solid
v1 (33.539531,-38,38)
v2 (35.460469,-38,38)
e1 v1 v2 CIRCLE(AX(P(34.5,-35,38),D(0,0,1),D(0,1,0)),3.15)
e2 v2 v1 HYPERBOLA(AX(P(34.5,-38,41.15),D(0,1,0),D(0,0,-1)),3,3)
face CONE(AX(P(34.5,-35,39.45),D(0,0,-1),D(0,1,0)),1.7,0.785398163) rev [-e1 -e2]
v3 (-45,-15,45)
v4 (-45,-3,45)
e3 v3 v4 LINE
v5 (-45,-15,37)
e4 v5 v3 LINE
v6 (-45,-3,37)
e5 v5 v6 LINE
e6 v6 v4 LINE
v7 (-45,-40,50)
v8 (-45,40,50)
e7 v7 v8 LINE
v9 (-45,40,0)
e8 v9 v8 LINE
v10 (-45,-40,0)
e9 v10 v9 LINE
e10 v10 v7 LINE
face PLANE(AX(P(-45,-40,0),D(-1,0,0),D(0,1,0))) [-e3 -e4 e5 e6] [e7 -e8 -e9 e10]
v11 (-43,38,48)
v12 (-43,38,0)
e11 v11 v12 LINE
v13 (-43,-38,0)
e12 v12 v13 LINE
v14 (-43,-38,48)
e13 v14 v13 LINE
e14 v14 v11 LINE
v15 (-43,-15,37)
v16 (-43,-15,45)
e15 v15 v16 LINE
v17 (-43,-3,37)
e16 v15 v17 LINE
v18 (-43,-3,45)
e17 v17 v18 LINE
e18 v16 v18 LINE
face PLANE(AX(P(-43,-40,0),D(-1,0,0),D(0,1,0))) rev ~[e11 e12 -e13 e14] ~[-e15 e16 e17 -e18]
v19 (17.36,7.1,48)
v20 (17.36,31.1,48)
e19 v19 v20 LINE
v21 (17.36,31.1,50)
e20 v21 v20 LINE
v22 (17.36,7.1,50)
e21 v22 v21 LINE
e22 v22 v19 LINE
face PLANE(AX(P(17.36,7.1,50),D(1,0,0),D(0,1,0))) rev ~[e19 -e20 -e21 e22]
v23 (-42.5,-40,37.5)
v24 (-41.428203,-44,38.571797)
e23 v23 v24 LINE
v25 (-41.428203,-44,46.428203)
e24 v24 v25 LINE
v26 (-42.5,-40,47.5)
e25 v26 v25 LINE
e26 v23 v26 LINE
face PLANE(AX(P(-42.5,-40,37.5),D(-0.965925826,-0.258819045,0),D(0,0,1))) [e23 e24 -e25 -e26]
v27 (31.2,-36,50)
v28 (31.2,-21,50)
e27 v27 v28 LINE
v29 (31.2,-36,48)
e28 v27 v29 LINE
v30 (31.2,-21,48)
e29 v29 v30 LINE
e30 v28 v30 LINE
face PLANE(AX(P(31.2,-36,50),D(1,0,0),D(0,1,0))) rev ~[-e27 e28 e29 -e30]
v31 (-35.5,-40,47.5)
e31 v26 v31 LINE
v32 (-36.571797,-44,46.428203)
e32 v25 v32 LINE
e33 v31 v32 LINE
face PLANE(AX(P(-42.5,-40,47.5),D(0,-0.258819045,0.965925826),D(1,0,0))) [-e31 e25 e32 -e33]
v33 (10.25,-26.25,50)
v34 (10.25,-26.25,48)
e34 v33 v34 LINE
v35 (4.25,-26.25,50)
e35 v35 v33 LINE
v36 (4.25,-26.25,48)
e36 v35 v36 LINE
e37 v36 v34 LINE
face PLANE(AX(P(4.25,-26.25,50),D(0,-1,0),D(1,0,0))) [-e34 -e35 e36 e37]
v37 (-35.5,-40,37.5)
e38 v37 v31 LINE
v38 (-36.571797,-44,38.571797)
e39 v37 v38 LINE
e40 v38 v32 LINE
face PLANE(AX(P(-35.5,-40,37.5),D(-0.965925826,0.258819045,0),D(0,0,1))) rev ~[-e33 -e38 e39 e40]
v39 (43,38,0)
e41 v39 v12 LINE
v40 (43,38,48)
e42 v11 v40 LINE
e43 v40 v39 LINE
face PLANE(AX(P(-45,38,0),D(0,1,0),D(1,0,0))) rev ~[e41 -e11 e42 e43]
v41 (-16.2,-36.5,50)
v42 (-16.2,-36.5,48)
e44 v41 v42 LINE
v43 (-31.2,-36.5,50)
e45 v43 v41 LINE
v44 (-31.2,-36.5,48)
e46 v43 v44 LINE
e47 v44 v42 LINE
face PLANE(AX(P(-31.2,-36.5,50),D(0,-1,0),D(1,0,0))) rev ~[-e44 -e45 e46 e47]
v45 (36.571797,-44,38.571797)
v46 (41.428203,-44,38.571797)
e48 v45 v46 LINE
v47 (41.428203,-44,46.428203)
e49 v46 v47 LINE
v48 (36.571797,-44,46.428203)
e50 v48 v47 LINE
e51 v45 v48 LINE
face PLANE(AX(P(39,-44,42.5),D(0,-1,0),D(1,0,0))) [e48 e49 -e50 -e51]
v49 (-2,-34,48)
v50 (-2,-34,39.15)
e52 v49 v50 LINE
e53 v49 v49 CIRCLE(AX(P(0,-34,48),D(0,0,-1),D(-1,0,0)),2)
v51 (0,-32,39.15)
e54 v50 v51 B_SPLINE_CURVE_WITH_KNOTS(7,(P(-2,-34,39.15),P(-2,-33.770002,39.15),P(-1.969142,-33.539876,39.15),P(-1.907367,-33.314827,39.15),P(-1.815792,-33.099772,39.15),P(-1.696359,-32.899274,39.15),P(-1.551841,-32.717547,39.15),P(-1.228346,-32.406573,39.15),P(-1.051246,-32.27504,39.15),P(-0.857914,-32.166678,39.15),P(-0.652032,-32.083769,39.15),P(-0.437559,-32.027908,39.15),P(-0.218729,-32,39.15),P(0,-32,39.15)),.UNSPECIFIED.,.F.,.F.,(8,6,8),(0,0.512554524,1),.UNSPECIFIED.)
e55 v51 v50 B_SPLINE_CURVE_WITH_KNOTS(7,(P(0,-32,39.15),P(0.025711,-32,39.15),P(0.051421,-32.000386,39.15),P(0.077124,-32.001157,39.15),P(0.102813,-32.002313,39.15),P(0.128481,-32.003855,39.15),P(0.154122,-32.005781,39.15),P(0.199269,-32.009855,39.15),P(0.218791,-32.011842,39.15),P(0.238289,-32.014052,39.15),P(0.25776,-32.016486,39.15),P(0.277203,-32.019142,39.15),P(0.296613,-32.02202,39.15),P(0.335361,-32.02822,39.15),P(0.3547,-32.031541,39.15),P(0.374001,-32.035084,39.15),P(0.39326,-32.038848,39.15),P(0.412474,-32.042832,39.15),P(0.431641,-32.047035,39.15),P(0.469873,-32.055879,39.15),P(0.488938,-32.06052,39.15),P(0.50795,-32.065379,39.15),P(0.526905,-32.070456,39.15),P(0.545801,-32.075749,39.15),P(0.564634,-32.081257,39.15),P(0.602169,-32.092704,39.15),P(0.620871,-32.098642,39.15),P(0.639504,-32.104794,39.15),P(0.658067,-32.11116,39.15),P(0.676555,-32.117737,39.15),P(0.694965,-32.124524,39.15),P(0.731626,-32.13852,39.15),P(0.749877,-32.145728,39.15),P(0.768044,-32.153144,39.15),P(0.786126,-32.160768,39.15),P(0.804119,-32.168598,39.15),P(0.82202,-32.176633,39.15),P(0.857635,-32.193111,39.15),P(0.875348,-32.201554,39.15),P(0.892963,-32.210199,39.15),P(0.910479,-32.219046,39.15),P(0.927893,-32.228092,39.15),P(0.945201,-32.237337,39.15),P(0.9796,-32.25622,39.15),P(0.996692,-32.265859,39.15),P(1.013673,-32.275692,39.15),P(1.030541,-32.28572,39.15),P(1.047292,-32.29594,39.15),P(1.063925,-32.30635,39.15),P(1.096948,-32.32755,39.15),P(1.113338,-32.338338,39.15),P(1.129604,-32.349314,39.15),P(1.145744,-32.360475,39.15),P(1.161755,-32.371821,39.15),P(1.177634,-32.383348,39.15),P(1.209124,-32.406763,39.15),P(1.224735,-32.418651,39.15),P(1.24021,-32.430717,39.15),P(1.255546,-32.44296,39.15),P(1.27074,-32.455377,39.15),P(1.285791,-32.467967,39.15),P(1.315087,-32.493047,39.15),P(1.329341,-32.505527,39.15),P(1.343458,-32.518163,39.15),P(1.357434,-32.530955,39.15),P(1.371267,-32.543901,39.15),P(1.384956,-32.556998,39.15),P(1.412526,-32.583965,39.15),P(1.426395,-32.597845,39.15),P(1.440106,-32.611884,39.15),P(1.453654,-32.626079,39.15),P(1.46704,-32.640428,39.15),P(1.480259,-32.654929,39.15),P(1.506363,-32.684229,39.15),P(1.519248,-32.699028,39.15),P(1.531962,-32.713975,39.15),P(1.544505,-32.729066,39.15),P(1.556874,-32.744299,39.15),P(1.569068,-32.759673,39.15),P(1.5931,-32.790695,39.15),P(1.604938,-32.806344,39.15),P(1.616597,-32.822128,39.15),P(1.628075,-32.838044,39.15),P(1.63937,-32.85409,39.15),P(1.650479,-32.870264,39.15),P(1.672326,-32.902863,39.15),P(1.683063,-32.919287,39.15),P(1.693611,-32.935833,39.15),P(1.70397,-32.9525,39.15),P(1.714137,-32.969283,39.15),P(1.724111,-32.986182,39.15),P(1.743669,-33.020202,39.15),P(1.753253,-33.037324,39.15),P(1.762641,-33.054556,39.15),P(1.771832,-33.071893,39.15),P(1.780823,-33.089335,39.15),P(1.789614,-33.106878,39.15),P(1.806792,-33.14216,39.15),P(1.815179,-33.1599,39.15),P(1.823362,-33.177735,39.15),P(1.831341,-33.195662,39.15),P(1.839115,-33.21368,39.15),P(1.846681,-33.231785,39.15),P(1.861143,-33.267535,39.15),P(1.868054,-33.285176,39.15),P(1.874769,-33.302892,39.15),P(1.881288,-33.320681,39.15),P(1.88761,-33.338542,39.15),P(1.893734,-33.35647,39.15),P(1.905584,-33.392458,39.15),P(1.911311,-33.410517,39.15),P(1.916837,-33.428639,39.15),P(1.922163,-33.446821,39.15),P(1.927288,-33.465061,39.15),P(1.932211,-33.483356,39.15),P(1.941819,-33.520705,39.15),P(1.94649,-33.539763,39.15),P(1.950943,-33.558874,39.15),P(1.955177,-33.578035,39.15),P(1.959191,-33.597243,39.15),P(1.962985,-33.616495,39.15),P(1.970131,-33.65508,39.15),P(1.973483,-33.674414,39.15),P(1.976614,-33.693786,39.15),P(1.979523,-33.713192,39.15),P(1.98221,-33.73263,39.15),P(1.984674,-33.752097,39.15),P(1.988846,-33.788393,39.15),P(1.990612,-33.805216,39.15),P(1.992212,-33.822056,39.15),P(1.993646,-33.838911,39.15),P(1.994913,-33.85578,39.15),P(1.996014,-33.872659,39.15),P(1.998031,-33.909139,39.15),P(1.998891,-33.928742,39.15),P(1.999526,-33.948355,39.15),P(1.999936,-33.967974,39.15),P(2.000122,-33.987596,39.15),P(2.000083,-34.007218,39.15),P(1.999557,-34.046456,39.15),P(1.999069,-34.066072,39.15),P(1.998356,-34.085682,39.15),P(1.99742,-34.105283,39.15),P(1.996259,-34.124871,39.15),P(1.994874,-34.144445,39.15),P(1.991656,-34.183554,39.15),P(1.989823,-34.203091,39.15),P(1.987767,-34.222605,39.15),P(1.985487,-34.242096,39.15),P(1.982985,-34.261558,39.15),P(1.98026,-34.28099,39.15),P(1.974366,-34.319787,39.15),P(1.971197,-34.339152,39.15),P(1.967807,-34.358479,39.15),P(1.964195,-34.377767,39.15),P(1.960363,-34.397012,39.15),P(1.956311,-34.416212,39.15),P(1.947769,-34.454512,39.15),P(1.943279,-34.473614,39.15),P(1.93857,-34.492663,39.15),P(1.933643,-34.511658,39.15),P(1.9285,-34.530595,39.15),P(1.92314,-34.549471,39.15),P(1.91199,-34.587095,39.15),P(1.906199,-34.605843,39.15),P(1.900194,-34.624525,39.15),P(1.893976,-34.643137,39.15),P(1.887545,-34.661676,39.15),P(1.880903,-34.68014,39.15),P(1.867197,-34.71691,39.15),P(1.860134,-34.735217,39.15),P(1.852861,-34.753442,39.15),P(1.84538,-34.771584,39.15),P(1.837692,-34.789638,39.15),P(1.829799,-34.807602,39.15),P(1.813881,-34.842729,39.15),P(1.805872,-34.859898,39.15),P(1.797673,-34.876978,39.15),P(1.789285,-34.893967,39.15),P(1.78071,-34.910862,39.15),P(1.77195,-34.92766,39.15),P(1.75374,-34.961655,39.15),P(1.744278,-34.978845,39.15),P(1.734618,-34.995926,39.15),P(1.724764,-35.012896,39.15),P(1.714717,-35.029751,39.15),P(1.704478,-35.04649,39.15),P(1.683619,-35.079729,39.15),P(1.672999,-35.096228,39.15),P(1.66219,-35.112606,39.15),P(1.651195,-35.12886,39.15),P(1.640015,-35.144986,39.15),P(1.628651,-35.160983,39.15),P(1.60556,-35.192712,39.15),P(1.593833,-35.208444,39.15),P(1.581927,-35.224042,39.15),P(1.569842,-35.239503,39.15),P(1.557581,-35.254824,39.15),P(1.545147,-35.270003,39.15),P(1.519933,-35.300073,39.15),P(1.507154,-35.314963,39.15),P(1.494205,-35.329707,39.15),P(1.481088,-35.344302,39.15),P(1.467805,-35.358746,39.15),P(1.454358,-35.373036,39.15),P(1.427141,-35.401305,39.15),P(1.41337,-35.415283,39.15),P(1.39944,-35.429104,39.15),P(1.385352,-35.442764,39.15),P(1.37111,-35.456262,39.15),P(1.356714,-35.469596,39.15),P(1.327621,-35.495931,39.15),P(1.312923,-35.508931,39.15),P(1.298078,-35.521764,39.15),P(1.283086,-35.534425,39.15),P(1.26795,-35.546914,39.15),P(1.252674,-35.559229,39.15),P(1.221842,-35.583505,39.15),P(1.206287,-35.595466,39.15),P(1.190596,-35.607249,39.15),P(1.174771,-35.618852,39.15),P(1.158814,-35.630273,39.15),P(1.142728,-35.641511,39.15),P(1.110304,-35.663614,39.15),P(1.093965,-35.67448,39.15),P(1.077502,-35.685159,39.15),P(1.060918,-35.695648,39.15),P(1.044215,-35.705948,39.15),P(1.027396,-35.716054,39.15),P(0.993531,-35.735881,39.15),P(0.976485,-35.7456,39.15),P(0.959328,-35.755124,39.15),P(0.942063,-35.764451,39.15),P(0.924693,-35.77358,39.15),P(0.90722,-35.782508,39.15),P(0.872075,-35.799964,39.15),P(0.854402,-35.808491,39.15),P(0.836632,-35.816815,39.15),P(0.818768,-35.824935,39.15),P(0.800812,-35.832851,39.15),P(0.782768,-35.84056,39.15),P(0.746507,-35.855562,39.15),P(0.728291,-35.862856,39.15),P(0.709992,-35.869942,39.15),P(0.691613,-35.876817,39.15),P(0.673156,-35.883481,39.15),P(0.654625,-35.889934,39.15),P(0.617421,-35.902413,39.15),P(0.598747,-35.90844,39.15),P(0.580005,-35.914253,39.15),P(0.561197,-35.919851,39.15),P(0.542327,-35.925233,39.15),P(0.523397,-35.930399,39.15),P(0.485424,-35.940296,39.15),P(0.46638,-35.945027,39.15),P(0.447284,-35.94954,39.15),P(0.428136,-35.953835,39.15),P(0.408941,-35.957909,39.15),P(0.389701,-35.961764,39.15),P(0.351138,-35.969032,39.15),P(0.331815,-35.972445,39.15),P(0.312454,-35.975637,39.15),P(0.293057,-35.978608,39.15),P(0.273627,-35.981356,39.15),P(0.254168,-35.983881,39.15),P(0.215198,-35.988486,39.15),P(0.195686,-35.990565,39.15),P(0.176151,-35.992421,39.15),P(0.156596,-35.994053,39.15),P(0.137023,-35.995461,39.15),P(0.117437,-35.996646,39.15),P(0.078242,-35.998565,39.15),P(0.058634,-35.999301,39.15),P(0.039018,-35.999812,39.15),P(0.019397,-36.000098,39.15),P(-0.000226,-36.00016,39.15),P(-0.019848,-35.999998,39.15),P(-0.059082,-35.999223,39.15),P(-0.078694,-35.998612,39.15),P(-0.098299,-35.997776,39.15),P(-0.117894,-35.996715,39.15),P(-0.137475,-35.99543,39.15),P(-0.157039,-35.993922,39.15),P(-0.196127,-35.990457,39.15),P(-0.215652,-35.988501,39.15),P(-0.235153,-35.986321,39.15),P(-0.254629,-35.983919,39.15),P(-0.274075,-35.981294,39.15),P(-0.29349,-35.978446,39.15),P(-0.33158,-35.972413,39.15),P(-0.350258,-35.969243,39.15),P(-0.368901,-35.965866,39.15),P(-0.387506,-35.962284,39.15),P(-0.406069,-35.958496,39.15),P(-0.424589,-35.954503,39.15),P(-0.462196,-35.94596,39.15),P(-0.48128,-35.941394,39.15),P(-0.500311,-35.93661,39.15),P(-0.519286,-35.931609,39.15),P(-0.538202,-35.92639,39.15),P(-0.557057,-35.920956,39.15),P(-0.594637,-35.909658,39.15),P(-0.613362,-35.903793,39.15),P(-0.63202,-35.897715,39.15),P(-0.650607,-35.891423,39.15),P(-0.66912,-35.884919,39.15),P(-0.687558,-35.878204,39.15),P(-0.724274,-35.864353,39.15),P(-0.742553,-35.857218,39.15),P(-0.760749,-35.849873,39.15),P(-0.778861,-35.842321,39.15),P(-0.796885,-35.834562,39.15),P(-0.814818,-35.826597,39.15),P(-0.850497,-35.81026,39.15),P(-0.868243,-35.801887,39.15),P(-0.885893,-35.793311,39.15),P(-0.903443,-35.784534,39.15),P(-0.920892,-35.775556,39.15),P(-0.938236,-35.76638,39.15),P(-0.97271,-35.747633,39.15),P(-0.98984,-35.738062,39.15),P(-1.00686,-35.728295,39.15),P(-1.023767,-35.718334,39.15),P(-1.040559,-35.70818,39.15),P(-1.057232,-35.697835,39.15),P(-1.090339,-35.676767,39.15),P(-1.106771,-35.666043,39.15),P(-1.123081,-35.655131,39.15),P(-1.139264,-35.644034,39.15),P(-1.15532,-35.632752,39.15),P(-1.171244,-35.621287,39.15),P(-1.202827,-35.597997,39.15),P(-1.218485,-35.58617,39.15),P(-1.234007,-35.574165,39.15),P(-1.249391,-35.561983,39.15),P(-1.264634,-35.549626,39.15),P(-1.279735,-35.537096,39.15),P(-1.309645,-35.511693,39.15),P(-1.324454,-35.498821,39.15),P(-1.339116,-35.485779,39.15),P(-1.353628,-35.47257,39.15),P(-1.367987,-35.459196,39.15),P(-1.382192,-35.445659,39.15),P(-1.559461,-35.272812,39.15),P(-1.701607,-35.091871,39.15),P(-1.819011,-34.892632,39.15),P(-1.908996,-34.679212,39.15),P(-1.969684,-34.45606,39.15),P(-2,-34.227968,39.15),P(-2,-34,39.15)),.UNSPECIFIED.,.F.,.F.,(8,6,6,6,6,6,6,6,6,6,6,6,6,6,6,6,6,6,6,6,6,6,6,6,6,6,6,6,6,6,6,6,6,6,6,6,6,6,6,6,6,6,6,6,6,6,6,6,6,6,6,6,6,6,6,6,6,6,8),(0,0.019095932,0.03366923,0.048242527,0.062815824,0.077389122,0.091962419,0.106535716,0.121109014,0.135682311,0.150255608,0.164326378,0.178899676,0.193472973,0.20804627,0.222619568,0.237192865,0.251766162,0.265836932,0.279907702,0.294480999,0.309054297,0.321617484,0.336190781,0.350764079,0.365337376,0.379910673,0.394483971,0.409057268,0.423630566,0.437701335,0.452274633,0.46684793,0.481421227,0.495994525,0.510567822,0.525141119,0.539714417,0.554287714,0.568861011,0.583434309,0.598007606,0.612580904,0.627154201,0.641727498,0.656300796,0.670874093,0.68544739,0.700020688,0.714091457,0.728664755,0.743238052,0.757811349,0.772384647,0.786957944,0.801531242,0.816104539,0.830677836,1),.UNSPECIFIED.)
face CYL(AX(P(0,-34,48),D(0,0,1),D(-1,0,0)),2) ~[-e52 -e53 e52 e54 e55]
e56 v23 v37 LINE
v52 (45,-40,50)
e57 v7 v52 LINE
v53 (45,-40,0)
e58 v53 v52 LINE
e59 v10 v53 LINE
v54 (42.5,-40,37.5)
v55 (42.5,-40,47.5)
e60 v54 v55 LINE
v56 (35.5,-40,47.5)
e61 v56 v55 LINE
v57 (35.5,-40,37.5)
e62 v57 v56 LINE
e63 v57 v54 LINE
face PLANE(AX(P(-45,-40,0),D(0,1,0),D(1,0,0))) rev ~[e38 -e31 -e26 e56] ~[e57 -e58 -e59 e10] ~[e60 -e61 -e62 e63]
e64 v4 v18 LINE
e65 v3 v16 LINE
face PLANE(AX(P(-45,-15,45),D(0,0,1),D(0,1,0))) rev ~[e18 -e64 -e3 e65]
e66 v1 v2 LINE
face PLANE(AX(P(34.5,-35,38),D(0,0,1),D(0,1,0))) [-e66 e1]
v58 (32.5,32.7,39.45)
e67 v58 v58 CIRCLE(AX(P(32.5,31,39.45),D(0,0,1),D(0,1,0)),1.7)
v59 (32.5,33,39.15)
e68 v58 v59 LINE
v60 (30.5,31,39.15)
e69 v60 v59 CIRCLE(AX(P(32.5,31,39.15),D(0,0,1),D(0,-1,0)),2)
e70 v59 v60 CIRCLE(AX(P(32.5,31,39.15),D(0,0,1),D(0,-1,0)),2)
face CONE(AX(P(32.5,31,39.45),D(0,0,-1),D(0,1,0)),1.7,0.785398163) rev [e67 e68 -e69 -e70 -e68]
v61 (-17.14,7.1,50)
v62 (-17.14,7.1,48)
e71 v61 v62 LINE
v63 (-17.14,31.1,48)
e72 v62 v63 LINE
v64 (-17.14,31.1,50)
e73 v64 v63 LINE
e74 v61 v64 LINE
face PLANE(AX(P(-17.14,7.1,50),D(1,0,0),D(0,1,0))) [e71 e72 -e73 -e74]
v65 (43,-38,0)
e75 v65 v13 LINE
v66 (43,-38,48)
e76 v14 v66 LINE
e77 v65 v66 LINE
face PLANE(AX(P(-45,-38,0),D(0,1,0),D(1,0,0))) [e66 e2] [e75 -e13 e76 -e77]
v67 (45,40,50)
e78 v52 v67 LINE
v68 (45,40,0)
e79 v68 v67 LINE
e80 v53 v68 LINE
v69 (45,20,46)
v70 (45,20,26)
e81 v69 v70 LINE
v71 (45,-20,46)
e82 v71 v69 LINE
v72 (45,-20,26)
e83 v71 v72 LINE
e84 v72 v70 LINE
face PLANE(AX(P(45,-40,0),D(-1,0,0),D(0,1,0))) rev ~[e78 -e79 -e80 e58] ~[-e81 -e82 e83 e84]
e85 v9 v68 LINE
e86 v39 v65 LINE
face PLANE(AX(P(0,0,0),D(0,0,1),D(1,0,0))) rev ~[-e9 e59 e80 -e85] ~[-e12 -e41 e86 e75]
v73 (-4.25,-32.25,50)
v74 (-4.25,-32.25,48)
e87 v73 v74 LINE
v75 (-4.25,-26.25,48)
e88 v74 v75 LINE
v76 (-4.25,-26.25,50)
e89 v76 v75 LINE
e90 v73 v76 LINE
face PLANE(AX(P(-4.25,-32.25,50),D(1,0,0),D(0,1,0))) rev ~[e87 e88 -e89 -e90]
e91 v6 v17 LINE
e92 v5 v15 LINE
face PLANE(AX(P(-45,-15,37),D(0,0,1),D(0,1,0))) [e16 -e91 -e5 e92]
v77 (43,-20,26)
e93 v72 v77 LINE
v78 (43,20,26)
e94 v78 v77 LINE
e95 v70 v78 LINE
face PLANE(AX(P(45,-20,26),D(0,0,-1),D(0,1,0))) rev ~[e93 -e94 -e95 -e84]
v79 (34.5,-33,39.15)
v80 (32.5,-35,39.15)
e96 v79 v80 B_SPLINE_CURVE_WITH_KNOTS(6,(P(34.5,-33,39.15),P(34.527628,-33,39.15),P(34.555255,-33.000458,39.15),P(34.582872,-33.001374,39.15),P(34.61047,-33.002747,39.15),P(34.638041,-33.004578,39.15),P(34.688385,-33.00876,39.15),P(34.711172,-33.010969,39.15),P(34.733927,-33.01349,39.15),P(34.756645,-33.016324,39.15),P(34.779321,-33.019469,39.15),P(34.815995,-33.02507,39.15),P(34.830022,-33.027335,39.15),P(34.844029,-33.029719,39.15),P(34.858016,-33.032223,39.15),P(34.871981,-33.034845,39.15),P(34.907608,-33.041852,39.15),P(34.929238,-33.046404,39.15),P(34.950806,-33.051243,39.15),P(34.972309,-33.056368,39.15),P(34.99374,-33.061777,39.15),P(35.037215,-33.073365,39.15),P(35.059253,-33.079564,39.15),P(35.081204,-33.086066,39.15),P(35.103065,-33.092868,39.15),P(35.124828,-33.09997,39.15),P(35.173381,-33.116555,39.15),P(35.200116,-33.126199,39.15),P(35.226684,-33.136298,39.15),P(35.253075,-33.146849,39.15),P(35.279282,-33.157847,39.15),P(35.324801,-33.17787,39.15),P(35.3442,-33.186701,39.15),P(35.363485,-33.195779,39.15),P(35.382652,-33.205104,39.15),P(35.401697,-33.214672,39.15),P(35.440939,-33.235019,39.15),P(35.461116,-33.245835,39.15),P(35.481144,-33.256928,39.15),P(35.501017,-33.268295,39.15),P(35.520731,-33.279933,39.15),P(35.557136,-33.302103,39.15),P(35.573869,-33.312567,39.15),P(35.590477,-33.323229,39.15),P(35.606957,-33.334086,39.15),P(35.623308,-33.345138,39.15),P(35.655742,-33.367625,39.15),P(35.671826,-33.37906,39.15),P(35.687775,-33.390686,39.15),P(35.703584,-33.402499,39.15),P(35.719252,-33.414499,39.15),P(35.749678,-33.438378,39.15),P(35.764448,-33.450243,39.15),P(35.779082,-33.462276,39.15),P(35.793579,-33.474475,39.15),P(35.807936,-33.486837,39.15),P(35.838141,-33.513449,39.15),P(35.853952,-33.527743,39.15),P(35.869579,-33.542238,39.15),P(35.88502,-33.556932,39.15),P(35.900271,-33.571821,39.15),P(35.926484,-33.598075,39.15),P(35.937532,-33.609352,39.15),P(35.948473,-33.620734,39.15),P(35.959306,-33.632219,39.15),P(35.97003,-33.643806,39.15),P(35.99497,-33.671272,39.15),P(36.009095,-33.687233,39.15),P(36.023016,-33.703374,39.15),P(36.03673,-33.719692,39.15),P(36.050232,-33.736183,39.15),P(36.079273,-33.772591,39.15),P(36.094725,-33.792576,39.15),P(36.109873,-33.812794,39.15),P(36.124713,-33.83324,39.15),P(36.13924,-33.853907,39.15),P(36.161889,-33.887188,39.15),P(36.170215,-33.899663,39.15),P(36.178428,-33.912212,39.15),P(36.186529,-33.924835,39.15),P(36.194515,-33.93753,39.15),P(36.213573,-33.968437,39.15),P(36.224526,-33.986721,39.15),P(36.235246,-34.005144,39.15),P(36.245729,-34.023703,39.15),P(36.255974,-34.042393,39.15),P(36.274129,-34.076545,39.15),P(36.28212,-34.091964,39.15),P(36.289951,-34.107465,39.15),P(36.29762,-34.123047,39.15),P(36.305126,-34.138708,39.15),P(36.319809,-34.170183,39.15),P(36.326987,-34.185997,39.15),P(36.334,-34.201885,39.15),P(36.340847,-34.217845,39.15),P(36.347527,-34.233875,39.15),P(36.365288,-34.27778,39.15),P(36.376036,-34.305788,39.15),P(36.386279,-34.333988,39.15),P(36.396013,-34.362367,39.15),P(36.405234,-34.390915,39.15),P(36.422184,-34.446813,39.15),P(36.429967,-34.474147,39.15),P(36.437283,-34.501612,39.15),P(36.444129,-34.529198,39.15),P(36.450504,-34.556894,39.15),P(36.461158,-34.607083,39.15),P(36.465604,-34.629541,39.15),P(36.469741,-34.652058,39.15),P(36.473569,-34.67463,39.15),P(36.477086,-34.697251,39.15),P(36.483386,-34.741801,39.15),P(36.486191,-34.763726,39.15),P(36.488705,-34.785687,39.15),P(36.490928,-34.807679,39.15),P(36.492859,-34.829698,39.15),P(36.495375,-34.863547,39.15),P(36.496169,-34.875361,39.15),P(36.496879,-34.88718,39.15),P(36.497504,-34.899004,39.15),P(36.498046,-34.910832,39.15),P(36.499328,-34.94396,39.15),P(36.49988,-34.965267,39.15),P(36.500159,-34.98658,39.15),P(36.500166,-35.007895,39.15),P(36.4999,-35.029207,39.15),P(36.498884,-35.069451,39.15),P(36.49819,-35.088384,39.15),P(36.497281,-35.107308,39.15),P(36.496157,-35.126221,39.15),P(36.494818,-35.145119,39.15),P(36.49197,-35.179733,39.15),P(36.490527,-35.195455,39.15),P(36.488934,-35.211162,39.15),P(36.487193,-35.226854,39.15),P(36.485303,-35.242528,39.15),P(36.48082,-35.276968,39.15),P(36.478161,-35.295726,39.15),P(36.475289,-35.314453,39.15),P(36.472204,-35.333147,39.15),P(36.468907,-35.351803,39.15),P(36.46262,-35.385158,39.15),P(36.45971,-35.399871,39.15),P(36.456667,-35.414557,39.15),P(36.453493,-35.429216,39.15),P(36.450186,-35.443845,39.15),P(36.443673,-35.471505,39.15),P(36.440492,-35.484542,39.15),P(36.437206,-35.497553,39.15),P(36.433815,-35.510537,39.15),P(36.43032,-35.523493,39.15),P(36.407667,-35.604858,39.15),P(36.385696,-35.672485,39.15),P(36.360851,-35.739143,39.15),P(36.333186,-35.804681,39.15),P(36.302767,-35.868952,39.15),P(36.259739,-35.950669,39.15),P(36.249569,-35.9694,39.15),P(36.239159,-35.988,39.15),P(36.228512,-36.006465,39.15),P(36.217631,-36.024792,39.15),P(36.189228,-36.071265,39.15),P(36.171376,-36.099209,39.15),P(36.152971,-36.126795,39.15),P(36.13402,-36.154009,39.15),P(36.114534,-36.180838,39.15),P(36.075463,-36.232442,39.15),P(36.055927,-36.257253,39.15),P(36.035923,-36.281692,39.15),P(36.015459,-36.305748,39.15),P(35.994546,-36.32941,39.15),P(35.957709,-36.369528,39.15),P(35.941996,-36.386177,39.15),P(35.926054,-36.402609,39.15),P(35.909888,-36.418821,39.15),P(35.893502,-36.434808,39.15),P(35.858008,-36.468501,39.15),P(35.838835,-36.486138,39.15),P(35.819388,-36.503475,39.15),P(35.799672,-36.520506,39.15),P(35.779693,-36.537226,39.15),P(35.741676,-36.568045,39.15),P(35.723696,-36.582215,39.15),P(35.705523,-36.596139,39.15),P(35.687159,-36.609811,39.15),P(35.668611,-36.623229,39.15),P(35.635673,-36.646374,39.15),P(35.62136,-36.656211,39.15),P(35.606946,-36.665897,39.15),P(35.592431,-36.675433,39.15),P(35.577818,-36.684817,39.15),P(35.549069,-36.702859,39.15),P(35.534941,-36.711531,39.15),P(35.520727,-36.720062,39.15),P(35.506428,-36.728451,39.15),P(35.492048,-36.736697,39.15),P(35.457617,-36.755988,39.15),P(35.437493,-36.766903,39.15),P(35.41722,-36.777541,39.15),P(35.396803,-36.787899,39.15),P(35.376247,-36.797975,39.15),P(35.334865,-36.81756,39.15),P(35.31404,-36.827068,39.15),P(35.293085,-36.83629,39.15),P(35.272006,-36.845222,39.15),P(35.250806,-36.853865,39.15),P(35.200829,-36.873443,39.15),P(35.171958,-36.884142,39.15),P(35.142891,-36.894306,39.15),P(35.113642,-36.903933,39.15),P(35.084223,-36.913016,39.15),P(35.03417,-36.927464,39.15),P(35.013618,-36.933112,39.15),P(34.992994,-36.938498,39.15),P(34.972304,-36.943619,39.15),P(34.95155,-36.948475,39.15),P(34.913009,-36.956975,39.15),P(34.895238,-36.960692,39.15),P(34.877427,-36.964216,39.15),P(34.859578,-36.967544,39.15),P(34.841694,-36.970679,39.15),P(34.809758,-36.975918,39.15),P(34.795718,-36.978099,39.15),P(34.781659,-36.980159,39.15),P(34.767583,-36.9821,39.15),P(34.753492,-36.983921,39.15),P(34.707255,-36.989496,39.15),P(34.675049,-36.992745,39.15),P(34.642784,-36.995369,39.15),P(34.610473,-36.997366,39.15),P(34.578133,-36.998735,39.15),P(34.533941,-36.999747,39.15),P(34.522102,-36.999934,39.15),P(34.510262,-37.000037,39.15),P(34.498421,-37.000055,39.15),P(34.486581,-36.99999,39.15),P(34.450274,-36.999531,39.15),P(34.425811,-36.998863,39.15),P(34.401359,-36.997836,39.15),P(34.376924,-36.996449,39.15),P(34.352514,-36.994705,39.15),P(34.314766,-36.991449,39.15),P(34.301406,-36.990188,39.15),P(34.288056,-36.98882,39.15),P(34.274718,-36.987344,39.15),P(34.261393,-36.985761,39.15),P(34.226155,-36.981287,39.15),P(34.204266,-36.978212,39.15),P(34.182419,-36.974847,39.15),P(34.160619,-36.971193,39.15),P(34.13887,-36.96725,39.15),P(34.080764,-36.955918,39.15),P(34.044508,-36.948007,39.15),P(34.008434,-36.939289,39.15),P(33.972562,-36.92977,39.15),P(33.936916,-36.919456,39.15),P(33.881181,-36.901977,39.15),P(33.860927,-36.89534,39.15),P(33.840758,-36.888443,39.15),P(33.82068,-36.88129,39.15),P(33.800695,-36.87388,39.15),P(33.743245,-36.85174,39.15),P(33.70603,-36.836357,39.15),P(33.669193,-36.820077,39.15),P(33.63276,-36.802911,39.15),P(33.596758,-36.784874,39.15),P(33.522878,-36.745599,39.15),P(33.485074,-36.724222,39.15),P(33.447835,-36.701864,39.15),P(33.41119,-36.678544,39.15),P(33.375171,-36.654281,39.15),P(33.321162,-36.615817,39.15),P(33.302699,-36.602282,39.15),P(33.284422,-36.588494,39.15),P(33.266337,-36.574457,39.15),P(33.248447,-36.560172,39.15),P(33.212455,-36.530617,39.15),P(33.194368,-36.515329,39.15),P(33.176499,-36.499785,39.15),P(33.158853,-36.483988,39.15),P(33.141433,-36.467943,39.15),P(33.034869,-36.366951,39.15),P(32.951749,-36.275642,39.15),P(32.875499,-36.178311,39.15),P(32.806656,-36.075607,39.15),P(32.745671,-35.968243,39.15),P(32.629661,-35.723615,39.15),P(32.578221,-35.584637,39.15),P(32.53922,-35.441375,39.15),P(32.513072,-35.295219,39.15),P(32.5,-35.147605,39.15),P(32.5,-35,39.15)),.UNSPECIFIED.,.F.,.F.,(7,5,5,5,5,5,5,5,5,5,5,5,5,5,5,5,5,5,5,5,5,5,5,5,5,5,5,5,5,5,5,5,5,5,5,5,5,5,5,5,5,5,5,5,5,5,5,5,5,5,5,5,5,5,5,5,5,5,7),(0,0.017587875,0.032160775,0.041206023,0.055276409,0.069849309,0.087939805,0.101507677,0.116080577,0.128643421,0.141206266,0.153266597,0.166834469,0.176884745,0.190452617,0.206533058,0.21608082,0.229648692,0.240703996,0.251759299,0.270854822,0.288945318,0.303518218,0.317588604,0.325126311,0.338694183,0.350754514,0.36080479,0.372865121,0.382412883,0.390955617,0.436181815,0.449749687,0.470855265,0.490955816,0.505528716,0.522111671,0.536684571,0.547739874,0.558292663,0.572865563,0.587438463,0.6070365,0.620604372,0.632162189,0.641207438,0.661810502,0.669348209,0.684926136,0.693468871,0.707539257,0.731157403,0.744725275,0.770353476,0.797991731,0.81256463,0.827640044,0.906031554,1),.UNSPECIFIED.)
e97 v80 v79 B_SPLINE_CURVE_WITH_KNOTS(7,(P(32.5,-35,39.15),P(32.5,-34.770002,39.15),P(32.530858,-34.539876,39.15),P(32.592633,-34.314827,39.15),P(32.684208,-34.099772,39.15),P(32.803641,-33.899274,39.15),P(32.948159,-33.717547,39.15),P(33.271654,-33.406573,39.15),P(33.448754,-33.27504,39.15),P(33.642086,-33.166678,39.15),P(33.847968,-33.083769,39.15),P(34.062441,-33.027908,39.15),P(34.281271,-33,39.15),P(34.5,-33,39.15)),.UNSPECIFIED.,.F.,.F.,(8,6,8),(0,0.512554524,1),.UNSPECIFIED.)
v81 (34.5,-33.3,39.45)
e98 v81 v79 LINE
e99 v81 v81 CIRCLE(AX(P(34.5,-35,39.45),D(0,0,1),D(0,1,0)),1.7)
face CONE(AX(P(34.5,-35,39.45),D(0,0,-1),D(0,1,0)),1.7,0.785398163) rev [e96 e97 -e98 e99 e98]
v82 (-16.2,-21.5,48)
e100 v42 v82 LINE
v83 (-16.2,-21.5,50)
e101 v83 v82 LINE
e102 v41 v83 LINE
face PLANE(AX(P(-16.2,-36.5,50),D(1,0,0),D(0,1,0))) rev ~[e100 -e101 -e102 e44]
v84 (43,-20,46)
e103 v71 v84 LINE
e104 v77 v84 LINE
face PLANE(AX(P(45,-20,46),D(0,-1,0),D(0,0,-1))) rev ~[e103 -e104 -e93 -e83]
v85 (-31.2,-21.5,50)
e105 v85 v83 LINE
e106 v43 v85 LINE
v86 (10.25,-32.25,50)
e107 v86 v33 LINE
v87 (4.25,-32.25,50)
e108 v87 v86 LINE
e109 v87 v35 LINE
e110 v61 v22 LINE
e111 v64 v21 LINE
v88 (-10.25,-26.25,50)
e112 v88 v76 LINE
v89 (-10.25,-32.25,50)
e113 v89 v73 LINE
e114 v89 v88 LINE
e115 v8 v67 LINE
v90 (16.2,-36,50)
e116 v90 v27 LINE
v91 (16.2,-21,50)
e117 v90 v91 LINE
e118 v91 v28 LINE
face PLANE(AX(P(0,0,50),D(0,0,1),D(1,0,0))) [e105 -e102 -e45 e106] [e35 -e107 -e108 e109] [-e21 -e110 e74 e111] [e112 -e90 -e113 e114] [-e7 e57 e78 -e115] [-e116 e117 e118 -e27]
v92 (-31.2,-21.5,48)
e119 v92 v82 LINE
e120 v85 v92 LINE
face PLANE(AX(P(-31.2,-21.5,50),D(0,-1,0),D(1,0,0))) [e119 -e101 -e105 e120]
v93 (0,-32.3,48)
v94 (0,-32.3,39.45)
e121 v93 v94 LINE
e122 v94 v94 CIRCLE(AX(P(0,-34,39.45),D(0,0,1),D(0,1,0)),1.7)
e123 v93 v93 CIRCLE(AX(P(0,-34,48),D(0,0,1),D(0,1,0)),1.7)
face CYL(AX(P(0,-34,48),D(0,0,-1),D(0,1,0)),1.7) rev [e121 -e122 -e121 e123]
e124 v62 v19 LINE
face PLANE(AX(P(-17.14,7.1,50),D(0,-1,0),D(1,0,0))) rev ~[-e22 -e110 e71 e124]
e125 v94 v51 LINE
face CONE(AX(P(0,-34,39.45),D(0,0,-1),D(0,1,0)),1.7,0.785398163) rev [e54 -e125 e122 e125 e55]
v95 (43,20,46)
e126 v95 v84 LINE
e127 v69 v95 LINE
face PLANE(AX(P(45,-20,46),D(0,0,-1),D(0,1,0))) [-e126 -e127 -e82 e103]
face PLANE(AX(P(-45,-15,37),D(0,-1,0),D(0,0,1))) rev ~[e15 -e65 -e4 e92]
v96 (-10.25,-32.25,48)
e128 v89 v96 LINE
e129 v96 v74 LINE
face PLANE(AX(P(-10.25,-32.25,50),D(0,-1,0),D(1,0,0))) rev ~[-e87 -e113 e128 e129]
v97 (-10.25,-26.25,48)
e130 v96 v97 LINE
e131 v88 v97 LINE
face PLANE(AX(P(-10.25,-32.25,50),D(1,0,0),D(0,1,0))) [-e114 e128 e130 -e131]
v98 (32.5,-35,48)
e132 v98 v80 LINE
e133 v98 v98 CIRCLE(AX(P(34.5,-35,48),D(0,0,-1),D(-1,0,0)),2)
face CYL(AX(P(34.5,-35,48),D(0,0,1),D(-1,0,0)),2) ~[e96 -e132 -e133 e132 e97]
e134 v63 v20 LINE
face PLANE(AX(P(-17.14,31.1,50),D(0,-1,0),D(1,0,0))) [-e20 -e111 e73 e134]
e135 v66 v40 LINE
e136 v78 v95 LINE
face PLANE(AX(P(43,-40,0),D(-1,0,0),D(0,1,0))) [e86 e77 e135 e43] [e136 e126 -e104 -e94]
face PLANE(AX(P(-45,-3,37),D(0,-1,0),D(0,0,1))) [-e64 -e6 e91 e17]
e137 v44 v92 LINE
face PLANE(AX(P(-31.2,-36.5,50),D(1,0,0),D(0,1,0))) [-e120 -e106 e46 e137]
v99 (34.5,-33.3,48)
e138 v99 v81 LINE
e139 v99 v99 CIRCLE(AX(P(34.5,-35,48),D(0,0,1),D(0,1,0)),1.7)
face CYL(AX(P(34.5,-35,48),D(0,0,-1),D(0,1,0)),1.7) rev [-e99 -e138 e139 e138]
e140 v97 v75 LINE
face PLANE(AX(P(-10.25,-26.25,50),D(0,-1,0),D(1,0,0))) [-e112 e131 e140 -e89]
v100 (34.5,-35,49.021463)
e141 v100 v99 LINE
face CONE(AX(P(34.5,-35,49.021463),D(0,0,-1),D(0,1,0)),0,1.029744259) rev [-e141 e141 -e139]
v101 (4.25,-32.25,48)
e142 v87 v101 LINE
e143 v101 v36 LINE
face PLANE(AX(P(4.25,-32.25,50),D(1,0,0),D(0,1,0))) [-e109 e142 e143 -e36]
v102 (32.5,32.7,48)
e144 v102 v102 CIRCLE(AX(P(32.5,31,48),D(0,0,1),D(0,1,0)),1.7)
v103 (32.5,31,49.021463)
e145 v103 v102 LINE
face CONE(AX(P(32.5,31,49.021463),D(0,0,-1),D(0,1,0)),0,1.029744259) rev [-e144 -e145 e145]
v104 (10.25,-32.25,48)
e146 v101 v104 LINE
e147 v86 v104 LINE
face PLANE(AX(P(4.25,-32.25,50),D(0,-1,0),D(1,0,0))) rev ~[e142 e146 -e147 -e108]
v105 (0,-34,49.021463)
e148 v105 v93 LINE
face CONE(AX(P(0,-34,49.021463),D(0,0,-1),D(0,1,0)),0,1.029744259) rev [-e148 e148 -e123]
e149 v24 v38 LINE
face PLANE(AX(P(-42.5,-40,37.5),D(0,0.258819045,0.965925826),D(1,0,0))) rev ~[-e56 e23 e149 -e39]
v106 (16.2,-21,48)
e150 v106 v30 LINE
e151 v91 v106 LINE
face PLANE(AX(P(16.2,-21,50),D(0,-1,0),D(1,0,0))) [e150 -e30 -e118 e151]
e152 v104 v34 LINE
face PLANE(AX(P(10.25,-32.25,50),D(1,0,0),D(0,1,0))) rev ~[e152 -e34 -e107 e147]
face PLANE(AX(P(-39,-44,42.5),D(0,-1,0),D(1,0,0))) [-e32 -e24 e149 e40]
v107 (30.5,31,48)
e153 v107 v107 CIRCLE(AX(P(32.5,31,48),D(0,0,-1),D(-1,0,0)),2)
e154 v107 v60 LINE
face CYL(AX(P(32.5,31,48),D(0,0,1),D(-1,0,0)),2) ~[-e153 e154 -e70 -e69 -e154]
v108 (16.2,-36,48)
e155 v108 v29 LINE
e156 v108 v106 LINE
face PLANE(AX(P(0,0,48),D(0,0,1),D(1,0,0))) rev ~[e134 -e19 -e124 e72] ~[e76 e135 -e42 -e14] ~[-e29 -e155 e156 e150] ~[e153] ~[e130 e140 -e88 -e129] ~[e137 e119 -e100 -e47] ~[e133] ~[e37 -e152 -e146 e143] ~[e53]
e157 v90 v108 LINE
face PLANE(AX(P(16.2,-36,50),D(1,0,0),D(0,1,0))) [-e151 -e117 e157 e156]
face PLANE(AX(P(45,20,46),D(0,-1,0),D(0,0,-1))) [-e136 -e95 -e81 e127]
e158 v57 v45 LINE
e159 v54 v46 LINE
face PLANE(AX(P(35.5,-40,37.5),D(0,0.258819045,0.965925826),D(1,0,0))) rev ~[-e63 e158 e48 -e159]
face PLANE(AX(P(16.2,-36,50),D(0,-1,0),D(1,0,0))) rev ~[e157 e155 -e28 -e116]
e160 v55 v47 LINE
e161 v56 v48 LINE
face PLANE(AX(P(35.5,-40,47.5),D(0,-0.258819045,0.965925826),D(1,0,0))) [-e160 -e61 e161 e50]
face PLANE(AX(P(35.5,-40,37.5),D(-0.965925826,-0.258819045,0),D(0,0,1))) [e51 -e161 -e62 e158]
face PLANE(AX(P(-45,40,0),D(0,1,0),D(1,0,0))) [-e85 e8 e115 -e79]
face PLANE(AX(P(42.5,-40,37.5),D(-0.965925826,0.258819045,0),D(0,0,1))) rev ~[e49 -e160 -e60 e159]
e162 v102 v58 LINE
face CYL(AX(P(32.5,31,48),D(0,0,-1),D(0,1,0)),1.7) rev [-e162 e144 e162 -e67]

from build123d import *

# Parameters (mm, degrees)
SKETCH1_W                                      = 90
SKETCH1_H                                      = 80
BOSS_EXTRUDE1_DEPTH                            = 50
SHELL1_T                                       = -2
SKETCH2_W                                      = 34.5
SKETCH2_H                                      = 24
CUT_EXTRUDE_DEPTH                              = 2
SKETCH3_W                                      = 15
SKETCH3_H                                      = 15
SKETCH3_W_2                                    = 6
SKETCH3_H_2                                    = 6
CUT_EXTRUDE2_DEPTH                             = 2
SKETCH4_R                                      = 2
BOSS_EXTRUDE3_DEPTH                            = 10
SKETCH7_W                                      = 7
SKETCH7_H                                      = 10
BOSS_EXTRUDE4_DEPTH                            = 4
BOSS_EXTRUDE4_DRAFT                            = 15
BOSS_EXTRUDE4_PROFILE_2_DEPTH                  = 4
BOSS_EXTRUDE4_PROFILE_2_DRAFT                  = 15
SKETCH11_W                                     = 8
SKETCH11_H                                     = 12
CUT_EXTRUDE3_DEPTH                             = 10
SKETCH12_W                                     = 20
SKETCH12_H                                     = 40
CUT_EXTRUDE4_DEPTH                             = 10
CSK_FOR_M3_OVAL_HEAD_MACHINE_SCREW1_AT_2_COUNT = 2
CSK_FOR_M3_OVAL_HEAD_MACHINE_SCREW1_AT_2_PITCH = 66.030296077
CSK_FOR_M3_OVAL_HEAD_MACHINE_SCREW1_AT_3_COUNT = 2
CSK_FOR_M3_OVAL_HEAD_MACHINE_SCREW1_AT_3_PITCH = 72.672209269


with BuildPart() as part:
    # Sketch1 → Boss-Extrude1 (new body)
    with BuildSketch(Plane.XY):
        Rectangle(SKETCH1_W, SKETCH1_H)
    extrude(amount=BOSS_EXTRUDE1_DEPTH)

    # Shell1
    shell1_openings = [part.faces().sort_by_distance(p)[0] for p in [
        (0, 0, 0),
    ]]
    offset(amount=SHELL1_T, openings=shell1_openings, kind=Kind.INTERSECTION)

    # Sketch2 → Cut-Extrude (cut)
    with BuildSketch(Plane.XY.offset(50)):
        with Locations((0.11, 19.1)):
            Rectangle(SKETCH2_W, SKETCH2_H)
    extrude(amount=-CUT_EXTRUDE_DEPTH, mode=Mode.SUBTRACT)

    # Sketch3 → Cut-Extrude2 (cut)
    with BuildSketch(Plane.XY.offset(50)):
        with Locations((23.7, -28.5)):
            Rectangle(SKETCH3_W, SKETCH3_H)
        with Locations((-23.7, -29)):
            Rectangle(SKETCH3_W, SKETCH3_H)
        with Locations((-7.25, -29.25)):
            Rectangle(SKETCH3_W_2, SKETCH3_H_2)
        with Locations((7.25, -29.25)):
            Rectangle(SKETCH3_W_2, SKETCH3_H_2)
    extrude(amount=-CUT_EXTRUDE2_DEPTH, mode=Mode.SUBTRACT)

    # Sketch4 → Boss-Extrude3 (add)
    with BuildSketch(Plane(origin=(0, 0, 48), x_dir=(-1, 0, 0), z_dir=(0, 0, -1))):
        with Locations((-34.5, -35)):
            Circle(SKETCH4_R)
        with Locations((0, -34)):
            Circle(SKETCH4_R)
        with Locations((-32.5, 31)):
            Circle(SKETCH4_R)
    extrude(amount=BOSS_EXTRUDE3_DEPTH)


with BuildPart() as boss_extrude4_tool:
    # Sketch7 → Boss-Extrude4 (with draft: the straight prism first)
    with BuildSketch(Plane.XZ.offset(40)):
        with Locations((-39, 42.5)):
            Rectangle(SKETCH7_W, SKETCH7_H)
    extrude(amount=BOSS_EXTRUDE4_DEPTH)
    # Boss-Extrude4: the draft: its side faces are tilted about the plane it starts from
    boss_extrude4_sides = [boss_extrude4_tool.faces().sort_by_distance(p)[0] for p in [
        (-42.5, -42, 42.5),
        (-39, -42, 37.5),
        (-35.5, -42, 42.5),
        (-39, -42, 47.5),
    ]]
    draft(boss_extrude4_sides, Plane.XZ.offset(40), BOSS_EXTRUDE4_DRAFT)


with BuildPart() as part_1:
    add(part.part)

    # Boss-Extrude4: add boss_extrude4_tool
    add(boss_extrude4_tool.part)


with BuildPart() as boss_extrude4_profile_2_tool:
    # Sketch7 → Boss-Extrude4 profile 2 (with draft: the straight prism first)
    with BuildSketch(Plane.XZ.offset(40)):
        with Locations((39, 42.5)):
            Rectangle(SKETCH7_W, SKETCH7_H)
    extrude(amount=BOSS_EXTRUDE4_PROFILE_2_DEPTH)
    # Boss-Extrude4 profile 2: the draft: its side faces are tilted about the plane it starts from
    boss_extrude4_profile_2_sides = [boss_extrude4_profile_2_tool.faces().sort_by_distance(p)[0] for p in [
        (35.5, -42, 42.5),
        (39, -42, 37.5),
        (42.5, -42, 42.5),
        (39, -42, 47.5),
    ]]
    draft(boss_extrude4_profile_2_sides, Plane.XZ.offset(40), BOSS_EXTRUDE4_PROFILE_2_DRAFT)


with BuildPart() as part_2:
    add(part_1.part)

    # Boss-Extrude4 profile 2: add boss_extrude4_profile_2_tool
    add(boss_extrude4_profile_2_tool.part)

    # Sketch11 → Cut-Extrude3 (cut)
    with BuildSketch(Plane.ZY.offset(45)):
        with Locations((41, -9)):
            Rectangle(SKETCH11_W, SKETCH11_H)
    extrude(amount=-CUT_EXTRUDE3_DEPTH, mode=Mode.SUBTRACT)

    # Sketch12 → Cut-Extrude4 (cut)
    with BuildSketch(Plane(origin=(45, 0, 0), x_dir=(0, 0, -1), z_dir=(1, 0, 0))):
        with Locations((-36, 0)):
            Rectangle(SKETCH12_W, SKETCH12_H)
    extrude(amount=-CUT_EXTRUDE4_DEPTH, mode=Mode.SUBTRACT)

    # Sketch14 → CSK for M3 Oval Head Machine Screw1 (revolve, cut)
    with BuildSketch(Plane(origin=(32.5, 31, 38), x_dir=(0, 1, 0), z_dir=(1, 0, 0))):
        Polygon((0, 0), (0, 11.021463052), (1.7, 10), (1.7, 1.45), (3.15, 0), align=None)
    csk_for_m3_oval_head_machine_screw1 = revolve(axis=Axis((32.5, 31, 31.65), (0, 0, 1)), mode=Mode.SUBTRACT)

    # CSK for M3 Oval Head Machine Screw1 at 2: CSK for M3 Oval Head Machine Screw1 ×2
    with Locations(*[Vector(0.030289126640769028, -0.9995411791453814, 0) * (i * CSK_FOR_M3_OVAL_HEAD_MACHINE_SCREW1_AT_2_PITCH) for i in range(1, CSK_FOR_M3_OVAL_HEAD_MACHINE_SCREW1_AT_2_COUNT)]):
        add(csk_for_m3_oval_head_machine_screw1, mode=Mode.SUBTRACT)

    # CSK for M3 Oval Head Machine Screw1 at 3: CSK for M3 Oval Head Machine Screw1 ×2
    with Locations(*[Vector(-0.447213595499958, -0.894427190999916, 0) * (i * CSK_FOR_M3_OVAL_HEAD_MACHINE_SCREW1_AT_3_PITCH) for i in range(1, CSK_FOR_M3_OVAL_HEAD_MACHINE_SCREW1_AT_3_COUNT)]):
        add(csk_for_m3_oval_head_machine_screw1, mode=Mode.SUBTRACT)


solid = part_2.part
